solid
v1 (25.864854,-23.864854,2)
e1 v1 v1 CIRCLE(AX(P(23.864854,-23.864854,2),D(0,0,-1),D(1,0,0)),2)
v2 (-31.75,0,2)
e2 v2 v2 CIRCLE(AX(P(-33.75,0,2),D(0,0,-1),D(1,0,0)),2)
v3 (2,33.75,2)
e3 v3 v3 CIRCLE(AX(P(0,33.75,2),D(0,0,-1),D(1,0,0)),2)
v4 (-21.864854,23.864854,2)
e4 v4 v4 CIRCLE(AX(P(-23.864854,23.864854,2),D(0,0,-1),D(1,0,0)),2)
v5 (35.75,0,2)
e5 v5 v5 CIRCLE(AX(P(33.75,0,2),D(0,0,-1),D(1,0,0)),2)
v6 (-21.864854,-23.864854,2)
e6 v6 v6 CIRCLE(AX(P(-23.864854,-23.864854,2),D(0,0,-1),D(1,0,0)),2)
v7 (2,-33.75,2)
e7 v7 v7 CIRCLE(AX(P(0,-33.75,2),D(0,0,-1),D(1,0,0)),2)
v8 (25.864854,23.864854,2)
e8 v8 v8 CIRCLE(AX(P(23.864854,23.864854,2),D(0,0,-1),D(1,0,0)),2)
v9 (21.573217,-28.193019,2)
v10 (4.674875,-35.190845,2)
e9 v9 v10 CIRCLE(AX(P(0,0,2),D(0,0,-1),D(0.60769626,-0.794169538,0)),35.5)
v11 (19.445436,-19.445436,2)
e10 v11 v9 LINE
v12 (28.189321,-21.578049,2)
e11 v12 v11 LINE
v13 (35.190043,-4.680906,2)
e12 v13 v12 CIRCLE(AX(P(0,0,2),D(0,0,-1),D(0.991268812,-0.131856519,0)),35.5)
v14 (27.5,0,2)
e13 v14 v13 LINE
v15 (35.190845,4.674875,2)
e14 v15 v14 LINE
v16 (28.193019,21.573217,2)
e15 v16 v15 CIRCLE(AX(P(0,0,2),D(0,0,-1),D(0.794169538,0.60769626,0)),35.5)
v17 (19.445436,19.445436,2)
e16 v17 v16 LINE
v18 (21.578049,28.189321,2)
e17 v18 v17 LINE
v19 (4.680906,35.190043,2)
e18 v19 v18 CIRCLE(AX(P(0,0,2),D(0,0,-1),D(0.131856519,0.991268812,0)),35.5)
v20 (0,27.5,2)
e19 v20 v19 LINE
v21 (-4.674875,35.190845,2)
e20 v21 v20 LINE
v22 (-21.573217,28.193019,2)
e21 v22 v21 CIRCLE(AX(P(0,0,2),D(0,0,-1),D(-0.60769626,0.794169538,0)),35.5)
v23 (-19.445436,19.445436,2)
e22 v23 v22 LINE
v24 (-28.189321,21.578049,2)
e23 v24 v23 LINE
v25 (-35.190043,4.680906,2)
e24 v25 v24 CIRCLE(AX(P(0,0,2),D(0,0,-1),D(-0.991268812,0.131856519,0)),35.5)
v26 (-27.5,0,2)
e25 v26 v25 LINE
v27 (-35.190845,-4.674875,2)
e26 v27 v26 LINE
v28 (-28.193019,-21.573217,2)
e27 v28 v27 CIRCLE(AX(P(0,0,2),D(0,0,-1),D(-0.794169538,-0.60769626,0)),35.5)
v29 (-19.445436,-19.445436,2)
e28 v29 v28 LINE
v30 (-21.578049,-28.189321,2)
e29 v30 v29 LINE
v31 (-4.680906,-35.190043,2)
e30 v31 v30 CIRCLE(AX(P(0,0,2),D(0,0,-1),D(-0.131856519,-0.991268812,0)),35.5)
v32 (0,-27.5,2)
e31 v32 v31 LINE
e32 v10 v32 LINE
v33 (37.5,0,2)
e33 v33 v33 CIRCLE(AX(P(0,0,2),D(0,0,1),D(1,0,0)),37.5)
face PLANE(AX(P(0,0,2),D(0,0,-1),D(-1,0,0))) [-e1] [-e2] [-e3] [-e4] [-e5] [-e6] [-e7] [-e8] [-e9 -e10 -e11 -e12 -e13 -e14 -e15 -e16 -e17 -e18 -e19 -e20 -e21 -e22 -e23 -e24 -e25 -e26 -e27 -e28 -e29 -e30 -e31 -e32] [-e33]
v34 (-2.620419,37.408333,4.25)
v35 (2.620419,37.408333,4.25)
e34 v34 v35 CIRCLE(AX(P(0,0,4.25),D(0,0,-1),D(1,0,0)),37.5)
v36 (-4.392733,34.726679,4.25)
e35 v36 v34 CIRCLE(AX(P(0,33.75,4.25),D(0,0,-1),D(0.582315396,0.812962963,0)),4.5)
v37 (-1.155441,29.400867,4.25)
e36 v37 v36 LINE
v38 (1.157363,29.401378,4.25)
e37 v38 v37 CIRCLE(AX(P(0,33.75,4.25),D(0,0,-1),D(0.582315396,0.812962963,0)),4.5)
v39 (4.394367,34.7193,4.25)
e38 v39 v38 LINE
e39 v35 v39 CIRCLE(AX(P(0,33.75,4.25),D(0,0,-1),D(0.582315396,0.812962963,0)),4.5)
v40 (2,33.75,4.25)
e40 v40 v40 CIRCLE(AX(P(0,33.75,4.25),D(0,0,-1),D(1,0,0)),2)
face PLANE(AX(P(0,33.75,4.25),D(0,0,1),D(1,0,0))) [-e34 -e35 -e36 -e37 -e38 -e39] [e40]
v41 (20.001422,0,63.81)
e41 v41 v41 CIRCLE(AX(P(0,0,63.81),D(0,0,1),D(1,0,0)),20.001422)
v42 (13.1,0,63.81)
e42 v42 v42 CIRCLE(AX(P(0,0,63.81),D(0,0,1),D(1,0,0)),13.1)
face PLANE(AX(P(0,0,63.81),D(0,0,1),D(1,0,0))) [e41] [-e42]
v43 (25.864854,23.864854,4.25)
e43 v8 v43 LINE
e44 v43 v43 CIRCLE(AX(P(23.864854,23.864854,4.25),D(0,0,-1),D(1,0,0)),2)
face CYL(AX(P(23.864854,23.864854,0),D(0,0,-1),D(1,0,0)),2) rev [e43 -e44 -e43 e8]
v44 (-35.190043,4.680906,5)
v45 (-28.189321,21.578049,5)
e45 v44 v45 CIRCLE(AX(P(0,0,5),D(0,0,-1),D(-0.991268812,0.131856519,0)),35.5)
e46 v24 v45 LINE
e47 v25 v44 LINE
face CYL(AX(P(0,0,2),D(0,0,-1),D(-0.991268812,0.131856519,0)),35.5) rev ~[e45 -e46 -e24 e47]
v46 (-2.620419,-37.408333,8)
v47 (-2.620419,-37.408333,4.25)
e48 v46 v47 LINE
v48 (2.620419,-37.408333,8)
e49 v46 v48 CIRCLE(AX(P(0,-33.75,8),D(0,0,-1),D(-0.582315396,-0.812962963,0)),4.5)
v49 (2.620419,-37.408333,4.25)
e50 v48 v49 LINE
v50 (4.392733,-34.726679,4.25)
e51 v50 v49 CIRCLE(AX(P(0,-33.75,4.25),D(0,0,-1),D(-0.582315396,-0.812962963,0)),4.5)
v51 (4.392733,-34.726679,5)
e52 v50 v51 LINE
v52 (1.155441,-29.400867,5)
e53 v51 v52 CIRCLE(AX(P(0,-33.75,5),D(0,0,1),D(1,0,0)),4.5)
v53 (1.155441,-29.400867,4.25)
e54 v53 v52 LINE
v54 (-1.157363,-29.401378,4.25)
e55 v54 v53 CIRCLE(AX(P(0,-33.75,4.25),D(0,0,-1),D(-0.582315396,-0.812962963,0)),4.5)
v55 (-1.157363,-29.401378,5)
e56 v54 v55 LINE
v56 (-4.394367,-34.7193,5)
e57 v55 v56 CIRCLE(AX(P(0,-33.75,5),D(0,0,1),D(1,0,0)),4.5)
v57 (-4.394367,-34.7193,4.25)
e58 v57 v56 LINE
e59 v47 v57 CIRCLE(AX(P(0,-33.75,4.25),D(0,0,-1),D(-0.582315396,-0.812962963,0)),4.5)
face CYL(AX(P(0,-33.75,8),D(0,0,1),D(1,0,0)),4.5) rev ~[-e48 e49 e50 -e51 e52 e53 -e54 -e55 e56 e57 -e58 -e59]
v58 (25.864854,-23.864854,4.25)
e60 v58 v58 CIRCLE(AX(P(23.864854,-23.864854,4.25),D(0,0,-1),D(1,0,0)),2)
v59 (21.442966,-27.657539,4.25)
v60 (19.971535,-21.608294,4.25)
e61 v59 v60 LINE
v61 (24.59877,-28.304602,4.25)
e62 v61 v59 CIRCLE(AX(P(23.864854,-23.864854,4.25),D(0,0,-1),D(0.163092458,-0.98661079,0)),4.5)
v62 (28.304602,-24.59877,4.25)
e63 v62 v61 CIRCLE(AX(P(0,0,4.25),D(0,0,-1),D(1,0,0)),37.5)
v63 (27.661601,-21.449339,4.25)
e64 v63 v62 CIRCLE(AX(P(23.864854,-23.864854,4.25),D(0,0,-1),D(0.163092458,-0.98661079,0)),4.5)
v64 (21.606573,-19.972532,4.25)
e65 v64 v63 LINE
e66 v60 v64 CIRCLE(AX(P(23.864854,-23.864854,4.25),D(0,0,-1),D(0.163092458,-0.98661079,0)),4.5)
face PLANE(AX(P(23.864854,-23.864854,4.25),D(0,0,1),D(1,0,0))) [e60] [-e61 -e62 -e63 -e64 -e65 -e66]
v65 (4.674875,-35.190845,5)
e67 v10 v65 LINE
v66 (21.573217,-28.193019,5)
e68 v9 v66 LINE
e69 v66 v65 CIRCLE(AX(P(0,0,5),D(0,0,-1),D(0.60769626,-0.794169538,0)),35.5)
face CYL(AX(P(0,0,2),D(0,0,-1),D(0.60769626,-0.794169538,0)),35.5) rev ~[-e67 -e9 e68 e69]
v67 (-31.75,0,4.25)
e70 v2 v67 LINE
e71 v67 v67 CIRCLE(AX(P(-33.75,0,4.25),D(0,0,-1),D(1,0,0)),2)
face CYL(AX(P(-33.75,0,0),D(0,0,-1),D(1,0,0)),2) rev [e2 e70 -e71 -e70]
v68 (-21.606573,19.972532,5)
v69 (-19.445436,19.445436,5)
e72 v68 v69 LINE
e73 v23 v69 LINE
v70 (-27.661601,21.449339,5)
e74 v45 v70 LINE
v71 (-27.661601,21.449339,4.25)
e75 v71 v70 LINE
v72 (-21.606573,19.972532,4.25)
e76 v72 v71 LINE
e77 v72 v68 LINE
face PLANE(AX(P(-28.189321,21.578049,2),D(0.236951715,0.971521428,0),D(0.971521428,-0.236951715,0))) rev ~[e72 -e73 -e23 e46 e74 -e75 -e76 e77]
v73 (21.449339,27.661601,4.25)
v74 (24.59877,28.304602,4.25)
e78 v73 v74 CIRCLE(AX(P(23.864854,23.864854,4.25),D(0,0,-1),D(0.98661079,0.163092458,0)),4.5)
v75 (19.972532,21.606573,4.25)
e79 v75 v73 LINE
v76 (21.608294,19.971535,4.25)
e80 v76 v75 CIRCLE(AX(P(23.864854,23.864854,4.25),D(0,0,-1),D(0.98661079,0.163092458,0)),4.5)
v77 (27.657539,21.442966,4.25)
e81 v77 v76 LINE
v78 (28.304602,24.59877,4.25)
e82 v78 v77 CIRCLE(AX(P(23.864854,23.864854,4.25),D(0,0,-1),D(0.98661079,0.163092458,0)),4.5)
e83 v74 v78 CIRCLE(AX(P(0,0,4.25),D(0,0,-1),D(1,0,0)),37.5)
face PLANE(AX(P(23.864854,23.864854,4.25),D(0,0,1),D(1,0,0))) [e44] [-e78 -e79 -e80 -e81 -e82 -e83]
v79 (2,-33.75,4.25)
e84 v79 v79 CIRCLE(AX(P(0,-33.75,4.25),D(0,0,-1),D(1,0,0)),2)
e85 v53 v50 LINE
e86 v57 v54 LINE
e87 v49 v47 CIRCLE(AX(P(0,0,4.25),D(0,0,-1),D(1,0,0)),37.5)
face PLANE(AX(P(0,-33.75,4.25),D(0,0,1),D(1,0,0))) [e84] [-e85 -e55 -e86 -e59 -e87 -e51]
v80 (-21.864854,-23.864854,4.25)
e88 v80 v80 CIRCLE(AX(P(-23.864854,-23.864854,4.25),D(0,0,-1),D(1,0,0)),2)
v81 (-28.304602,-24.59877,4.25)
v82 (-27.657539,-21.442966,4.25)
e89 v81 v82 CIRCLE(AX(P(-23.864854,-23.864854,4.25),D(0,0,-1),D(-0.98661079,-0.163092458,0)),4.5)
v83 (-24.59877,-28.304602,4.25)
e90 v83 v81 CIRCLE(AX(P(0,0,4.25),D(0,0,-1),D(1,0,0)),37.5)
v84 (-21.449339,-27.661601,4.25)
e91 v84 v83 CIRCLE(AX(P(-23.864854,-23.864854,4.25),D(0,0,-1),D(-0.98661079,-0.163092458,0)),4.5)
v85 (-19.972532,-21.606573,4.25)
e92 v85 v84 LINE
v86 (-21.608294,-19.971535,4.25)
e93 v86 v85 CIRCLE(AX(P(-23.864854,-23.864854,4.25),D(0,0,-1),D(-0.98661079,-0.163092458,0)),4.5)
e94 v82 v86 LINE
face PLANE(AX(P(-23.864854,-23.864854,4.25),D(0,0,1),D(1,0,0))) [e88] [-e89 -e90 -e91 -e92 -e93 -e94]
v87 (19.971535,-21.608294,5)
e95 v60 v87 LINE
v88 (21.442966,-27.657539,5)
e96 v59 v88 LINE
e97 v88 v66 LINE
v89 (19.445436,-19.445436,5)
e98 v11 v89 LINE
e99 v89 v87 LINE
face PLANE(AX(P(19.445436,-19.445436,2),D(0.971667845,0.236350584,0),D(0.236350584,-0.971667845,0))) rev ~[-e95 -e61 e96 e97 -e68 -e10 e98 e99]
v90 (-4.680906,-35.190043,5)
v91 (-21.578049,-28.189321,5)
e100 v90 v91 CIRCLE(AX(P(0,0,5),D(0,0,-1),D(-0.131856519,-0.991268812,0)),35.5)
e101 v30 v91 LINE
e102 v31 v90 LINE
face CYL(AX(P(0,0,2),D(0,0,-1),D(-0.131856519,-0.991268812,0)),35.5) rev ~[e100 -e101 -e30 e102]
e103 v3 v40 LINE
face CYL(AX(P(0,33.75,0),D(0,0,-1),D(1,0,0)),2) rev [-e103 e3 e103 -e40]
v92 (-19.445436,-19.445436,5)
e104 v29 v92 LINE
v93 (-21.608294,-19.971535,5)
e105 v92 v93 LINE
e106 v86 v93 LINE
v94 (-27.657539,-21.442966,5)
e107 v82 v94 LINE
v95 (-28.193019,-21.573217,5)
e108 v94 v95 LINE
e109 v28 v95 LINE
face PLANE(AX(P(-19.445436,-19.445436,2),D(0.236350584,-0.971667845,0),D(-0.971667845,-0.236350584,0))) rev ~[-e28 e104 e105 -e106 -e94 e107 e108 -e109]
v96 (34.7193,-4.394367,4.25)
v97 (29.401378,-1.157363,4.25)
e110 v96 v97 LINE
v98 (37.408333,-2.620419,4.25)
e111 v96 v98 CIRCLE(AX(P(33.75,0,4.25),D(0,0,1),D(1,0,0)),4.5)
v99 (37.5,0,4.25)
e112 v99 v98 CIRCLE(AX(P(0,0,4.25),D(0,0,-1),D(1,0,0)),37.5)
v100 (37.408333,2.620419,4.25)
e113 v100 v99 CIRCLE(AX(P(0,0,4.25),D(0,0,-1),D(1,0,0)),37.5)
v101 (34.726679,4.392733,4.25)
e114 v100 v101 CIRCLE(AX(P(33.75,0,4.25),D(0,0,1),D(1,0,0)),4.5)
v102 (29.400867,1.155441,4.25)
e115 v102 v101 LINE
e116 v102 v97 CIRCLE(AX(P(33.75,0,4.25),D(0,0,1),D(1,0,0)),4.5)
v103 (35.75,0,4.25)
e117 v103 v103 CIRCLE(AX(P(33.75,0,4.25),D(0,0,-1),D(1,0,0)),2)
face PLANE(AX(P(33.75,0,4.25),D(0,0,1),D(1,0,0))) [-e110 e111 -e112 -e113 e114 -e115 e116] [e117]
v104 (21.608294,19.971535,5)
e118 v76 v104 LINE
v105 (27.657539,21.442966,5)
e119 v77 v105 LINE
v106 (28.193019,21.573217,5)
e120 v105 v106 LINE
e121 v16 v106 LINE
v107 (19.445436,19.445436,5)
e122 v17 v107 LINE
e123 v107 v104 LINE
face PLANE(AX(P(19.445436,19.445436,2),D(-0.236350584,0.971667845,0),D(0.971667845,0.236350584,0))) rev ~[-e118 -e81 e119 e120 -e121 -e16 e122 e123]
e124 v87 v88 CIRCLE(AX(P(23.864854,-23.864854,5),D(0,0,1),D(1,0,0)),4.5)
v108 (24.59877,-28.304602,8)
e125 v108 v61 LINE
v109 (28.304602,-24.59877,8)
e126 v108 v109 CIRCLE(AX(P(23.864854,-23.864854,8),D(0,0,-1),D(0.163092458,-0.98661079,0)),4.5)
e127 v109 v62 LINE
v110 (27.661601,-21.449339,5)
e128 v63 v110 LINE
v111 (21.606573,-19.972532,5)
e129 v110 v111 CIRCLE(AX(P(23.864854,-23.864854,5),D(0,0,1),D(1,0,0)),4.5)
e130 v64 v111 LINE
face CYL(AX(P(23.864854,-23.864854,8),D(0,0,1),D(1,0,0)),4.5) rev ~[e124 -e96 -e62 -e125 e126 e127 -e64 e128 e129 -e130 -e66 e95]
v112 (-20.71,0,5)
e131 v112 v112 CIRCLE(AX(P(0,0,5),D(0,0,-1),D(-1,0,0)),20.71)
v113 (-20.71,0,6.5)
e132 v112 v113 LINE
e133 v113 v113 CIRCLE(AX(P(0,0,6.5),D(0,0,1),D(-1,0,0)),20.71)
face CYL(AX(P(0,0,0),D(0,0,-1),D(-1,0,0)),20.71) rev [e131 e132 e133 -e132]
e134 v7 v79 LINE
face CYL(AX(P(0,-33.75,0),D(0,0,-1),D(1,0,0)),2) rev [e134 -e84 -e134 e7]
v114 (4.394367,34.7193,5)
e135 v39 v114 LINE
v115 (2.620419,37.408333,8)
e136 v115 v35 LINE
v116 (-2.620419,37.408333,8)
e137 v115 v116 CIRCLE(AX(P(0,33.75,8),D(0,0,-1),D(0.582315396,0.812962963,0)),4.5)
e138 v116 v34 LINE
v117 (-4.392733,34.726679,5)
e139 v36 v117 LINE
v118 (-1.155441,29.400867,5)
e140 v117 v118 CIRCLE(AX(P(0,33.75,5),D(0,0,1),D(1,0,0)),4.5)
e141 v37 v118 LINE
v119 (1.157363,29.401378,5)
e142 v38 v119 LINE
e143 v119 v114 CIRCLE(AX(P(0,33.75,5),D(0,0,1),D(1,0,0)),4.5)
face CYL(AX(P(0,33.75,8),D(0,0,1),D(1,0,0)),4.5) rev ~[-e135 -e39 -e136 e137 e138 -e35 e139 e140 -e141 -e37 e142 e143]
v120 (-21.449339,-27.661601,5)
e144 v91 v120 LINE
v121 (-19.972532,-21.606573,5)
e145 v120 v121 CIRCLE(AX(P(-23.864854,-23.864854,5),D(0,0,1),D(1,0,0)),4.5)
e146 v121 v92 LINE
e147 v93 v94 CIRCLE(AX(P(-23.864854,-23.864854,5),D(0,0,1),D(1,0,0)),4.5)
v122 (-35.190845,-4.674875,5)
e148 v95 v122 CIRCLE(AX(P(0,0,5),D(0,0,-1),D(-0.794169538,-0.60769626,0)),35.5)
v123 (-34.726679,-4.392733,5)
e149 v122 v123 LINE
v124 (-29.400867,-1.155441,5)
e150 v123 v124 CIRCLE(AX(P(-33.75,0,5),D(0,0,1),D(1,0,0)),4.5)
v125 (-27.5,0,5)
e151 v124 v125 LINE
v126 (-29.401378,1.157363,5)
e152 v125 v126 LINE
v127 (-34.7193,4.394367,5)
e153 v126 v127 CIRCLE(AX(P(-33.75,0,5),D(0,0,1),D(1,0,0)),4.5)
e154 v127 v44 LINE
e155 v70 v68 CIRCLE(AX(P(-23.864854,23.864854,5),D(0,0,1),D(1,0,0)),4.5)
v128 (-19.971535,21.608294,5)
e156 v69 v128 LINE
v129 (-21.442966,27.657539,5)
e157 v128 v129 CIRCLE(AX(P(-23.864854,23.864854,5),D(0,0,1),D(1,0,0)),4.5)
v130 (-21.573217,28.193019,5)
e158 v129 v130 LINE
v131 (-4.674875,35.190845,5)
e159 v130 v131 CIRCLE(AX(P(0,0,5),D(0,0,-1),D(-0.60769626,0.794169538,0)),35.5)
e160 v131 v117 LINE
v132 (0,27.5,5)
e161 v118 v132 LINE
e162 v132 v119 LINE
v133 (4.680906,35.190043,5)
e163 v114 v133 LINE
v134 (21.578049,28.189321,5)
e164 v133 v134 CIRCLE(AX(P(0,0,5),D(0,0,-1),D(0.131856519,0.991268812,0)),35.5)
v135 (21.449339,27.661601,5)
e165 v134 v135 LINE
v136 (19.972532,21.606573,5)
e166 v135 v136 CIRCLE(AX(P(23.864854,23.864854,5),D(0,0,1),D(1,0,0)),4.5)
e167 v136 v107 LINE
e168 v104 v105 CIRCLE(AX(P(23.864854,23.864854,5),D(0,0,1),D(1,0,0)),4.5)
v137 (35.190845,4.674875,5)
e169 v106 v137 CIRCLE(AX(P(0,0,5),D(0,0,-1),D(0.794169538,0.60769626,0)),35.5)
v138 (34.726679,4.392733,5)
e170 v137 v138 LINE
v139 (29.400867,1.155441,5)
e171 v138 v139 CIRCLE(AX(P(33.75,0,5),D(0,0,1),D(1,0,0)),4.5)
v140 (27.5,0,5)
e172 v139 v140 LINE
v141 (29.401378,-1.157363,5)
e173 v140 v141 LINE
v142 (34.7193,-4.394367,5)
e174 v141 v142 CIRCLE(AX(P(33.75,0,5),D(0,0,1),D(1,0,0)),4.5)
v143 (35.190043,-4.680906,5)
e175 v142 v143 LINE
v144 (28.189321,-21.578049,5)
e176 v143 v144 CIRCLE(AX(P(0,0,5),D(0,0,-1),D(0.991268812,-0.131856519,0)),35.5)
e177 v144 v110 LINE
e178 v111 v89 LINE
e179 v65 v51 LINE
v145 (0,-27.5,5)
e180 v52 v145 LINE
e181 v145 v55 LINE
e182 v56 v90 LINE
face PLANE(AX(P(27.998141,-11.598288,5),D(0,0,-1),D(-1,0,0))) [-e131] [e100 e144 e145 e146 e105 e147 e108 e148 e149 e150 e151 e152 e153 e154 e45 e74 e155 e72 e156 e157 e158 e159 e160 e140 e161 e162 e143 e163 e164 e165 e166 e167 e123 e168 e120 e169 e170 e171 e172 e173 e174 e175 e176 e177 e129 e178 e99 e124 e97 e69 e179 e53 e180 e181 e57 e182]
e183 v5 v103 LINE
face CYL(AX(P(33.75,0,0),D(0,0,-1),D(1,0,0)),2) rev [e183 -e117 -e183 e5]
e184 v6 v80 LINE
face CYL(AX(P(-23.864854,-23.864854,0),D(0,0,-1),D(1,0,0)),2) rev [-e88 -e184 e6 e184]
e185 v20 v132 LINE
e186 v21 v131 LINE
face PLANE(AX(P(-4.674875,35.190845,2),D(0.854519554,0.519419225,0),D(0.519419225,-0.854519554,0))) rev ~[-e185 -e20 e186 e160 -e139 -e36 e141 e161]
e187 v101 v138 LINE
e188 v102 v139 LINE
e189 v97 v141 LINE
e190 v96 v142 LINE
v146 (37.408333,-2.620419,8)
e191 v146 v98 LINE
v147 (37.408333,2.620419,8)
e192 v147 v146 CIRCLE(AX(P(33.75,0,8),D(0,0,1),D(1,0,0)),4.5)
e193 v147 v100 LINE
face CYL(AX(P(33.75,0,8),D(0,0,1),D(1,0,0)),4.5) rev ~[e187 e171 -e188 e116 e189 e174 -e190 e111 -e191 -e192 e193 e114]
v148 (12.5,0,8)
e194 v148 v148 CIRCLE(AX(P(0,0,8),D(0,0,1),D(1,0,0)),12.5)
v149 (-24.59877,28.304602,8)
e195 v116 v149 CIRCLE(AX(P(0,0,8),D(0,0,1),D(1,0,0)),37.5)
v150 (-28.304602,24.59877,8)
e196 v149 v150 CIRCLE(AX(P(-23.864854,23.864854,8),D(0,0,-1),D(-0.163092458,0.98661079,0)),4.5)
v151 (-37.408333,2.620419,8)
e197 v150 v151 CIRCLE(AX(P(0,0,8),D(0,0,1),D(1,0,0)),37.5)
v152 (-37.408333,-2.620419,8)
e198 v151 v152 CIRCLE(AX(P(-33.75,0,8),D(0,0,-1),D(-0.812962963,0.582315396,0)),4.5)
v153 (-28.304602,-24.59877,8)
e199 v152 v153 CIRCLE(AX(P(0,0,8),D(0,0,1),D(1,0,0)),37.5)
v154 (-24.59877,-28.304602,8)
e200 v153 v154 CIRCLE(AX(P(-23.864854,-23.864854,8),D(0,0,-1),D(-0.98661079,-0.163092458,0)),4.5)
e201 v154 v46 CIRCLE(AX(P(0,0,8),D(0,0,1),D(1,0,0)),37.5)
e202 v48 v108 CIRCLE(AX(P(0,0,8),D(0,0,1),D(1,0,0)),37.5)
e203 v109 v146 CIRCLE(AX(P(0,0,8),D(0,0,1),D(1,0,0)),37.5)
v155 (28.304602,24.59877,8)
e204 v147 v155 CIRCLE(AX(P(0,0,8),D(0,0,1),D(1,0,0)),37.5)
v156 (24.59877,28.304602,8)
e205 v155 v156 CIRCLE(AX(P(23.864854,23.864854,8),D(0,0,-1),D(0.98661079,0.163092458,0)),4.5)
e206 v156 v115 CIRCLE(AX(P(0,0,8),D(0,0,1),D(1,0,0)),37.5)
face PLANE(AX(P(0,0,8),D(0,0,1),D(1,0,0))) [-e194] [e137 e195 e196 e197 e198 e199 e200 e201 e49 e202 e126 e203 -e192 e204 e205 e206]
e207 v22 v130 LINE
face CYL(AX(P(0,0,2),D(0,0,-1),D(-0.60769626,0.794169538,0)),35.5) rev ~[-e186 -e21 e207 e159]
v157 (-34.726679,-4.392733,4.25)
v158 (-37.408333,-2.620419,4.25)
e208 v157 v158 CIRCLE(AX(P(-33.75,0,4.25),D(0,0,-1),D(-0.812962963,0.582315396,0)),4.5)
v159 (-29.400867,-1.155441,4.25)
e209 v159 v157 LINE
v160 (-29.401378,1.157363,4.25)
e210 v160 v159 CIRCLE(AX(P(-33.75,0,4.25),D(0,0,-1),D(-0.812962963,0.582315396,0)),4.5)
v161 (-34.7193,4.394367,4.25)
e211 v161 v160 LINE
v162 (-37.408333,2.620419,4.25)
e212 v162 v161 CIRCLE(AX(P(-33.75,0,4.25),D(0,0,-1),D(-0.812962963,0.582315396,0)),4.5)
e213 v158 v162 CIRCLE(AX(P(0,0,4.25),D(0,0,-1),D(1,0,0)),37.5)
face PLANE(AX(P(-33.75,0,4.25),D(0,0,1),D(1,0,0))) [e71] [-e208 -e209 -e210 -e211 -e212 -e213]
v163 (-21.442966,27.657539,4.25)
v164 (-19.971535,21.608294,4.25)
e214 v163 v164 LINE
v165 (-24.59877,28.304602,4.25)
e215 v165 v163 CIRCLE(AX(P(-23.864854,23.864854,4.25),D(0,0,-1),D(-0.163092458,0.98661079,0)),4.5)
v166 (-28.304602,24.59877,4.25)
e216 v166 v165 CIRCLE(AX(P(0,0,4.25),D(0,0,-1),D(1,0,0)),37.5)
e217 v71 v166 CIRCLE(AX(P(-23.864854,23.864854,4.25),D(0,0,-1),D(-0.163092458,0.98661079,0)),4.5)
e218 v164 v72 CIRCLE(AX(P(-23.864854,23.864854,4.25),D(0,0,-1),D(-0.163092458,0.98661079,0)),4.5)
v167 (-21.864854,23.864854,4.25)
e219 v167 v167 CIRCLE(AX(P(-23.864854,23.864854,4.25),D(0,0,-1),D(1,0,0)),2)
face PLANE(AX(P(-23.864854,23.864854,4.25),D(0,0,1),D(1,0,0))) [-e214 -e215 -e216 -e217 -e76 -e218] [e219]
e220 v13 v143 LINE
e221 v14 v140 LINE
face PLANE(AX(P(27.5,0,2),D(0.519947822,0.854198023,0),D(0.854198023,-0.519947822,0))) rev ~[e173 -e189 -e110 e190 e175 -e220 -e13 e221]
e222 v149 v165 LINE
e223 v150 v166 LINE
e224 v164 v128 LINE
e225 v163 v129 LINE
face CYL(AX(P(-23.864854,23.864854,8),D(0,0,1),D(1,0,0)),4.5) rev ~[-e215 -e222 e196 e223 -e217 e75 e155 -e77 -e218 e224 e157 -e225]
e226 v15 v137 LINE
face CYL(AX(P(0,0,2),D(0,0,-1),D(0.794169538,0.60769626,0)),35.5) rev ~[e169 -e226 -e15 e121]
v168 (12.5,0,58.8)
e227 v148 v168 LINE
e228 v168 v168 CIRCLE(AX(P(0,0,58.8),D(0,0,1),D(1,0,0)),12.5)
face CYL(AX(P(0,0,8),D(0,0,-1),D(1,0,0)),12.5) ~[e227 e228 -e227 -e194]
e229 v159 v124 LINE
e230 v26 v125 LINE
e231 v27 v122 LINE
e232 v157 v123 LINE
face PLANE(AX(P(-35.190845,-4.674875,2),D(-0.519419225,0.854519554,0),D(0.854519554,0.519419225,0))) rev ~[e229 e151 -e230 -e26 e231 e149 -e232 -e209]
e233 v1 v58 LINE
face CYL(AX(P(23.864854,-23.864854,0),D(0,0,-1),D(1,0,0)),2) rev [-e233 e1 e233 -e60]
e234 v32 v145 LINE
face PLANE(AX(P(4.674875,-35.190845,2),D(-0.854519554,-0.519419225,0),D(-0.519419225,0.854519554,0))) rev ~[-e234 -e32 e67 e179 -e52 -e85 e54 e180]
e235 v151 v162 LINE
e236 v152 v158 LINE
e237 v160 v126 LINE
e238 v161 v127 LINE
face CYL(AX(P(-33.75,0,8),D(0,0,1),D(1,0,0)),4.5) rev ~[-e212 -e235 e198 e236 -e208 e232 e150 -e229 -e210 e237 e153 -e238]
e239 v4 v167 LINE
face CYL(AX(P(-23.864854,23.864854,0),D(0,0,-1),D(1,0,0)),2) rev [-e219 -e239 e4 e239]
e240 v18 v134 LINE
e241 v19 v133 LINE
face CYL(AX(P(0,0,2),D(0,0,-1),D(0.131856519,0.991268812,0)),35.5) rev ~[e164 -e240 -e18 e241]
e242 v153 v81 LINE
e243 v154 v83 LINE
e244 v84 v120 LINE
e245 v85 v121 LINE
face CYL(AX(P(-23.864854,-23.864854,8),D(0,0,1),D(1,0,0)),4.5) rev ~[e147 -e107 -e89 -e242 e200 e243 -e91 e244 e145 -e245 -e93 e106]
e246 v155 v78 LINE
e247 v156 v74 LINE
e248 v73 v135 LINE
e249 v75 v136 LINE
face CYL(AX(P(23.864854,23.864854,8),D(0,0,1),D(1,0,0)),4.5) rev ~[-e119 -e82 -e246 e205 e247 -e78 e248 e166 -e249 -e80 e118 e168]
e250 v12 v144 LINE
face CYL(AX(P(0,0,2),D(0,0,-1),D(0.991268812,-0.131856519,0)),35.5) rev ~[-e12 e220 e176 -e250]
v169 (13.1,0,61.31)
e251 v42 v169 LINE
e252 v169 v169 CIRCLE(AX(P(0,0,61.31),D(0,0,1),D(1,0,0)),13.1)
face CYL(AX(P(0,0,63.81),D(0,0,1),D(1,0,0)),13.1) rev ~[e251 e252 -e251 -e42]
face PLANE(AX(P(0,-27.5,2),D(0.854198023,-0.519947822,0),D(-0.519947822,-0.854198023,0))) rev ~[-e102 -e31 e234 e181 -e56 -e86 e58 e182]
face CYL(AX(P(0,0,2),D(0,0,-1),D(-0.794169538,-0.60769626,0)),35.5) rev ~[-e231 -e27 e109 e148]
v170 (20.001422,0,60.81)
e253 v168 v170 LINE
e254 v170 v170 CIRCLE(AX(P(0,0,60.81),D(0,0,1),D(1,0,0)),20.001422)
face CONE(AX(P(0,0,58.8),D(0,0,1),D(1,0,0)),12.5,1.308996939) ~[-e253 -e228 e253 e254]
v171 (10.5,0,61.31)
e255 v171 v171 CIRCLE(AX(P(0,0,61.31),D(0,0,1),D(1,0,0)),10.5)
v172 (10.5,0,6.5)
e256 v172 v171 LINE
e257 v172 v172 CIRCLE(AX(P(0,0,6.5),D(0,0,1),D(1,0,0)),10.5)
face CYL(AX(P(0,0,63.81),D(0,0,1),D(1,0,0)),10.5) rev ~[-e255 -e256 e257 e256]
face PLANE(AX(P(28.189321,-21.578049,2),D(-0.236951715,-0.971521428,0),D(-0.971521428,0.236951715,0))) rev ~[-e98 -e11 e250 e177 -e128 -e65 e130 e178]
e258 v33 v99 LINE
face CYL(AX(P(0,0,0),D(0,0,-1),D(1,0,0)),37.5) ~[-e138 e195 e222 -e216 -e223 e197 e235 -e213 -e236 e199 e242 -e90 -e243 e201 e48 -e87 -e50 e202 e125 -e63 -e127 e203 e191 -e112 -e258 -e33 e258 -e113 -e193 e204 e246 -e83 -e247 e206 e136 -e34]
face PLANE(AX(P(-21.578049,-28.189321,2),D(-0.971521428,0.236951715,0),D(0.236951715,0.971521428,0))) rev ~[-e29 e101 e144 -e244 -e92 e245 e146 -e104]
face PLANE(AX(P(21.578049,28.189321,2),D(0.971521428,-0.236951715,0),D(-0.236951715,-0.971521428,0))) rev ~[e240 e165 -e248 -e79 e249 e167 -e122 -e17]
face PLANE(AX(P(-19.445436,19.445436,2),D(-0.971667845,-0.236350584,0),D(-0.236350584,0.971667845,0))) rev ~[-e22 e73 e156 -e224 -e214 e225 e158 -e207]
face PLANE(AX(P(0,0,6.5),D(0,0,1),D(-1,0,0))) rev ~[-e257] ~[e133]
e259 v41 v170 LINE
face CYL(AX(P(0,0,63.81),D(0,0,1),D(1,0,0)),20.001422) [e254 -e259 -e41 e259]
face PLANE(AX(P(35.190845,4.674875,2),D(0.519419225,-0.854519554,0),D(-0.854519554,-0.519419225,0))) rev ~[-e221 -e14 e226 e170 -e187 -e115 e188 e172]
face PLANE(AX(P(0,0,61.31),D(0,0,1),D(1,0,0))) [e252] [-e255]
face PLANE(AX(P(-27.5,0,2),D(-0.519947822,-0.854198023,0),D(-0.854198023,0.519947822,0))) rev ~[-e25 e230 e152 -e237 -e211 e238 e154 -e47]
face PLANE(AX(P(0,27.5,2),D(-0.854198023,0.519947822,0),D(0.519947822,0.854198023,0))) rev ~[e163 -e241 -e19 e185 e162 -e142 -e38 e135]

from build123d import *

# Parameters (mm, degrees)
SKETCH2_R           = 37.5
SKETCH2_R_2         = 5.35
BOSS_EXTRUDE2_DEPTH = 8
SKETCH14_R          = 2
CUT_EXTRUDE6_DEPTH  = 54.633012222
SKETCH3_R           = 20.71
CUT_EXTRUDE2_DEPTH  = 6.5
SKETCH7_R           = 12.5
SKETCH7_R_2         = 10.5
BOSS_EXTRUDE4_DEPTH = 50.8
SKETCH10_R          = 12.5
BOSS_EXTRUDE5_DEPTH = 2.01
BOSS_EXTRUDE5_DRAFT = -75
SKETCH11_R          = 10.5
CUT_EXTRUDE3_DEPTH  = 81.686777727
BOSS_EXTRUDE6_START = 3
SKETCH12_R          = 20.001422123
SKETCH12_R_2        = 10.5
BOSS_EXTRUDE6_DEPTH = 3
SKETCH13_R          = 13.1
CUT_EXTRUDE4_DEPTH  = 2.5
SKETCH17_R          = 4.5
CUT_EXTRUDE8_DEPTH  = 3.75
SKETCH18_R          = 37.5
CUT_EXTRUDE9_DEPTH  = 2
SKETCH19_R          = 27.5
CUT_EXTRUDE10_DEPTH = 3
CUT_EXTRUDE11_DEPTH = 3


with BuildPart() as part:
    # Sketch2 → Boss-Extrude2 (new body)
    with BuildSketch(Plane.XY):
        Circle(SKETCH2_R)
        Circle(SKETCH2_R_2, mode=Mode.SUBTRACT)
    extrude(amount=BOSS_EXTRUDE2_DEPTH)

    # Sketch14 → Cut-Extrude6 (cut, through all)
    with BuildSketch(Plane.XY):
        with Locations((0, 33.75)):
            Circle(SKETCH14_R)
        with Locations((-23.864853865, 23.864853865)):
            Circle(SKETCH14_R)
        with Locations((-33.75, 0)):
            Circle(SKETCH14_R)
        with Locations((-23.864853865, -23.864853865)):
            Circle(SKETCH14_R)
        with Locations((0, -33.75)):
            Circle(SKETCH14_R)
        with Locations((23.864853865, -23.864853865)):
            Circle(SKETCH14_R)
        with Locations((33.75, 0)):
            Circle(SKETCH14_R)
        with Locations((23.864853865, 23.864853865)):
            Circle(SKETCH14_R)
    extrude(amount=CUT_EXTRUDE6_DEPTH, mode=Mode.SUBTRACT)

    # Sketch3 → Cut-Extrude2 (cut)
    with BuildSketch(Plane.XY):
        with Locations(Location((0, 0, 0), (0, 0, 180))):
            Circle(SKETCH3_R)
    extrude(amount=CUT_EXTRUDE2_DEPTH, mode=Mode.SUBTRACT)

    # Sketch7 → Boss-Extrude4 (add)
    with BuildSketch(Plane.XY.offset(8)):
        Circle(SKETCH7_R)
        Circle(SKETCH7_R_2, mode=Mode.SUBTRACT)
    extrude(amount=BOSS_EXTRUDE4_DEPTH)


with BuildPart() as boss_extrude5_tool:
    # Sketch10 → Boss-Extrude5 (with draft: the straight prism first)
    with BuildSketch(Plane.XY.offset(58.8)):
        Circle(SKETCH10_R)
    extrude(amount=BOSS_EXTRUDE5_DEPTH)
    # Boss-Extrude5: the draft: its side faces are tilted about the plane it starts from
    boss_extrude5_sides = [boss_extrude5_tool.faces().sort_by_distance(p)[0] for p in [
        (-12.5, 0, 59.805),
    ]]
    draft(boss_extrude5_sides, Plane.XY.offset(58.8), BOSS_EXTRUDE5_DRAFT)


with BuildPart() as part_1:
    add(part.part)

    # Boss-Extrude5: add boss_extrude5_tool
    add(boss_extrude5_tool.part)

    # Sketch11 → Cut-Extrude3 (cut, through all)
    with BuildSketch(Plane.XY.offset(60.81)):
        Circle(SKETCH11_R)
    extrude(amount=-CUT_EXTRUDE3_DEPTH, mode=Mode.SUBTRACT)

    # Sketch12 → Boss-Extrude6 (add)
    with BuildSketch(Plane.XY.offset(60.81).offset(BOSS_EXTRUDE6_START)):
        Circle(SKETCH12_R)
        Circle(SKETCH12_R_2, mode=Mode.SUBTRACT)
    extrude(amount=-BOSS_EXTRUDE6_DEPTH)

    # Sketch13 → Cut-Extrude4 (cut)
    with BuildSketch(Plane.XY.offset(63.81)):
        Circle(SKETCH13_R)
    extrude(amount=-CUT_EXTRUDE4_DEPTH, mode=Mode.SUBTRACT)

    # Sketch17 → Cut-Extrude8 (cut)
    with BuildSketch(Plane.XY.offset(8)):
        with Locations((-23.864853865, 23.864853865)):
            Circle(SKETCH17_R)
        with Locations((-33.75, 0)):
            Circle(SKETCH17_R)
        with Locations((0, 33.75)):
            Circle(SKETCH17_R)
        with Locations((23.864853865, 23.864853865)):
            Circle(SKETCH17_R)
        with Locations((33.75, 0)):
            Circle(SKETCH17_R)
        with Locations((23.864853865, -23.864853865)):
            Circle(SKETCH17_R)
        with Locations((0, -33.75)):
            Circle(SKETCH17_R)
        with Locations((-23.864853865, -23.864853865)):
            Circle(SKETCH17_R)
    extrude(amount=-CUT_EXTRUDE8_DEPTH, mode=Mode.SUBTRACT)

    # Sketch18 → Cut-Extrude9 (cut)
    with BuildSketch(Plane(origin=(0, 0, 0), x_dir=(-1, 0, 0), z_dir=(0, 0, -1))):
        Circle(SKETCH18_R)
    extrude(amount=-CUT_EXTRUDE9_DEPTH, mode=Mode.SUBTRACT)

    # Sketch19 → Cut-Extrude10 (cut)
    with BuildSketch(Plane(origin=(0, 0, 2), x_dir=(-1, 0, 0), z_dir=(0, 0, -1))):
        Circle(SKETCH19_R)
    extrude(amount=-CUT_EXTRUDE10_DEPTH, mode=Mode.SUBTRACT)

    # Sketch21 → Cut-Extrude11 (cut)
    with BuildSketch(Plane(origin=(0, 0, 2), x_dir=(-1, 0, 0), z_dir=(0, 0, -1))):
        with BuildLine():
            ThreePointArc((-19.445436483, -19.445436483), (-25.406687144, -10.52379439), (-27.5, 0))
            Line((-27.5, 0), (-35.190042838, -4.680906432))
            ThreePointArc((-35.190042838, -4.680906432), (-32.79655916, -13.588072242), (-28.189320962, -21.578048653))
            Line((-28.189320962, -21.578048653), (-19.445436483, -19.445436483))
        make_face()
        with BuildLine():
            Line((-35.190844537, 4.674875482), (-27.5, 0))
            ThreePointArc((-27.5, 0), (-25.406687144, 10.52379439), (-19.445436483, 19.445436483))
            Line((-19.445436483, 19.445436483), (-28.193018602, 21.573217241))
            ThreePointArc((-28.193018602, 21.573217241), (-32.798887407, 13.582451357), (-35.190844537, 4.674875482))
        make_face()
        with BuildLine():
            Line((-21.578048653, 28.189320962), (-19.445436483, 19.445436483))
            ThreePointArc((-19.445436483, 19.445436483), (-10.52379439, 25.406687144), (0, 27.5))
            Line((0, 27.5), (-4.680906432, 35.190042838))
            ThreePointArc((-4.680906432, 35.190042838), (-13.588072242, 32.79655916), (-21.578048653, 28.189320962))
        make_face()
        with BuildLine():
            Line((4.674875482, 35.190844537), (0, 27.5))
            ThreePointArc((0, 27.5), (10.52379439, 25.406687144), (19.445436483, 19.445436483))
            Line((19.445436483, 19.445436483), (21.573217241, 28.193018602))
            ThreePointArc((21.573217241, 28.193018602), (13.582451357, 32.798887407), (4.674875482, 35.190844537))
        make_face()
        with BuildLine():
            Line((28.189320962, 21.578048653), (19.445436483, 19.445436483))
            ThreePointArc((19.445436483, 19.445436483), (25.406687144, 10.52379439), (27.5, 0))
            Line((27.5, 0), (35.190042838, 4.680906432))
            ThreePointArc((35.190042838, 4.680906432), (32.79655916, 13.588072242), (28.189320962, 21.578048653))
        make_face()
        with BuildLine():
            ThreePointArc((27.5, 0), (25.406687144, -10.52379439), (19.445436483, -19.445436483))
            Line((19.445436483, -19.445436483), (28.193018602, -21.573217241))
            ThreePointArc((28.193018602, -21.573217241), (32.798887407, -13.582451357), (35.190844537, -4.674875482))
            Line((35.190844537, -4.674875482), (27.5, 0))
        make_face()
        with BuildLine():
            ThreePointArc((19.445436483, -19.445436483), (10.52379439, -25.406687144), (0, -27.5))
            Line((0, -27.5), (4.680906432, -35.190042838))
            ThreePointArc((4.680906432, -35.190042838), (13.588072242, -32.79655916), (21.578048653, -28.189320962))
            Line((21.578048653, -28.189320962), (19.445436483, -19.445436483))
        make_face()
        with BuildLine():
            ThreePointArc((0, -27.5), (-10.52379439, -25.406687144), (-19.445436483, -19.445436483))
            Line((-19.445436483, -19.445436483), (-21.573217241, -28.193018602))
            ThreePointArc((-21.573217241, -28.193018602), (-13.582451357, -32.798887407), (-4.674875482, -35.190844537))
            Line((-4.674875482, -35.190844537), (0, -27.5))
        make_face()
    extrude(amount=-CUT_EXTRUDE11_DEPTH, mode=Mode.SUBTRACT)


solid = part_1.part
